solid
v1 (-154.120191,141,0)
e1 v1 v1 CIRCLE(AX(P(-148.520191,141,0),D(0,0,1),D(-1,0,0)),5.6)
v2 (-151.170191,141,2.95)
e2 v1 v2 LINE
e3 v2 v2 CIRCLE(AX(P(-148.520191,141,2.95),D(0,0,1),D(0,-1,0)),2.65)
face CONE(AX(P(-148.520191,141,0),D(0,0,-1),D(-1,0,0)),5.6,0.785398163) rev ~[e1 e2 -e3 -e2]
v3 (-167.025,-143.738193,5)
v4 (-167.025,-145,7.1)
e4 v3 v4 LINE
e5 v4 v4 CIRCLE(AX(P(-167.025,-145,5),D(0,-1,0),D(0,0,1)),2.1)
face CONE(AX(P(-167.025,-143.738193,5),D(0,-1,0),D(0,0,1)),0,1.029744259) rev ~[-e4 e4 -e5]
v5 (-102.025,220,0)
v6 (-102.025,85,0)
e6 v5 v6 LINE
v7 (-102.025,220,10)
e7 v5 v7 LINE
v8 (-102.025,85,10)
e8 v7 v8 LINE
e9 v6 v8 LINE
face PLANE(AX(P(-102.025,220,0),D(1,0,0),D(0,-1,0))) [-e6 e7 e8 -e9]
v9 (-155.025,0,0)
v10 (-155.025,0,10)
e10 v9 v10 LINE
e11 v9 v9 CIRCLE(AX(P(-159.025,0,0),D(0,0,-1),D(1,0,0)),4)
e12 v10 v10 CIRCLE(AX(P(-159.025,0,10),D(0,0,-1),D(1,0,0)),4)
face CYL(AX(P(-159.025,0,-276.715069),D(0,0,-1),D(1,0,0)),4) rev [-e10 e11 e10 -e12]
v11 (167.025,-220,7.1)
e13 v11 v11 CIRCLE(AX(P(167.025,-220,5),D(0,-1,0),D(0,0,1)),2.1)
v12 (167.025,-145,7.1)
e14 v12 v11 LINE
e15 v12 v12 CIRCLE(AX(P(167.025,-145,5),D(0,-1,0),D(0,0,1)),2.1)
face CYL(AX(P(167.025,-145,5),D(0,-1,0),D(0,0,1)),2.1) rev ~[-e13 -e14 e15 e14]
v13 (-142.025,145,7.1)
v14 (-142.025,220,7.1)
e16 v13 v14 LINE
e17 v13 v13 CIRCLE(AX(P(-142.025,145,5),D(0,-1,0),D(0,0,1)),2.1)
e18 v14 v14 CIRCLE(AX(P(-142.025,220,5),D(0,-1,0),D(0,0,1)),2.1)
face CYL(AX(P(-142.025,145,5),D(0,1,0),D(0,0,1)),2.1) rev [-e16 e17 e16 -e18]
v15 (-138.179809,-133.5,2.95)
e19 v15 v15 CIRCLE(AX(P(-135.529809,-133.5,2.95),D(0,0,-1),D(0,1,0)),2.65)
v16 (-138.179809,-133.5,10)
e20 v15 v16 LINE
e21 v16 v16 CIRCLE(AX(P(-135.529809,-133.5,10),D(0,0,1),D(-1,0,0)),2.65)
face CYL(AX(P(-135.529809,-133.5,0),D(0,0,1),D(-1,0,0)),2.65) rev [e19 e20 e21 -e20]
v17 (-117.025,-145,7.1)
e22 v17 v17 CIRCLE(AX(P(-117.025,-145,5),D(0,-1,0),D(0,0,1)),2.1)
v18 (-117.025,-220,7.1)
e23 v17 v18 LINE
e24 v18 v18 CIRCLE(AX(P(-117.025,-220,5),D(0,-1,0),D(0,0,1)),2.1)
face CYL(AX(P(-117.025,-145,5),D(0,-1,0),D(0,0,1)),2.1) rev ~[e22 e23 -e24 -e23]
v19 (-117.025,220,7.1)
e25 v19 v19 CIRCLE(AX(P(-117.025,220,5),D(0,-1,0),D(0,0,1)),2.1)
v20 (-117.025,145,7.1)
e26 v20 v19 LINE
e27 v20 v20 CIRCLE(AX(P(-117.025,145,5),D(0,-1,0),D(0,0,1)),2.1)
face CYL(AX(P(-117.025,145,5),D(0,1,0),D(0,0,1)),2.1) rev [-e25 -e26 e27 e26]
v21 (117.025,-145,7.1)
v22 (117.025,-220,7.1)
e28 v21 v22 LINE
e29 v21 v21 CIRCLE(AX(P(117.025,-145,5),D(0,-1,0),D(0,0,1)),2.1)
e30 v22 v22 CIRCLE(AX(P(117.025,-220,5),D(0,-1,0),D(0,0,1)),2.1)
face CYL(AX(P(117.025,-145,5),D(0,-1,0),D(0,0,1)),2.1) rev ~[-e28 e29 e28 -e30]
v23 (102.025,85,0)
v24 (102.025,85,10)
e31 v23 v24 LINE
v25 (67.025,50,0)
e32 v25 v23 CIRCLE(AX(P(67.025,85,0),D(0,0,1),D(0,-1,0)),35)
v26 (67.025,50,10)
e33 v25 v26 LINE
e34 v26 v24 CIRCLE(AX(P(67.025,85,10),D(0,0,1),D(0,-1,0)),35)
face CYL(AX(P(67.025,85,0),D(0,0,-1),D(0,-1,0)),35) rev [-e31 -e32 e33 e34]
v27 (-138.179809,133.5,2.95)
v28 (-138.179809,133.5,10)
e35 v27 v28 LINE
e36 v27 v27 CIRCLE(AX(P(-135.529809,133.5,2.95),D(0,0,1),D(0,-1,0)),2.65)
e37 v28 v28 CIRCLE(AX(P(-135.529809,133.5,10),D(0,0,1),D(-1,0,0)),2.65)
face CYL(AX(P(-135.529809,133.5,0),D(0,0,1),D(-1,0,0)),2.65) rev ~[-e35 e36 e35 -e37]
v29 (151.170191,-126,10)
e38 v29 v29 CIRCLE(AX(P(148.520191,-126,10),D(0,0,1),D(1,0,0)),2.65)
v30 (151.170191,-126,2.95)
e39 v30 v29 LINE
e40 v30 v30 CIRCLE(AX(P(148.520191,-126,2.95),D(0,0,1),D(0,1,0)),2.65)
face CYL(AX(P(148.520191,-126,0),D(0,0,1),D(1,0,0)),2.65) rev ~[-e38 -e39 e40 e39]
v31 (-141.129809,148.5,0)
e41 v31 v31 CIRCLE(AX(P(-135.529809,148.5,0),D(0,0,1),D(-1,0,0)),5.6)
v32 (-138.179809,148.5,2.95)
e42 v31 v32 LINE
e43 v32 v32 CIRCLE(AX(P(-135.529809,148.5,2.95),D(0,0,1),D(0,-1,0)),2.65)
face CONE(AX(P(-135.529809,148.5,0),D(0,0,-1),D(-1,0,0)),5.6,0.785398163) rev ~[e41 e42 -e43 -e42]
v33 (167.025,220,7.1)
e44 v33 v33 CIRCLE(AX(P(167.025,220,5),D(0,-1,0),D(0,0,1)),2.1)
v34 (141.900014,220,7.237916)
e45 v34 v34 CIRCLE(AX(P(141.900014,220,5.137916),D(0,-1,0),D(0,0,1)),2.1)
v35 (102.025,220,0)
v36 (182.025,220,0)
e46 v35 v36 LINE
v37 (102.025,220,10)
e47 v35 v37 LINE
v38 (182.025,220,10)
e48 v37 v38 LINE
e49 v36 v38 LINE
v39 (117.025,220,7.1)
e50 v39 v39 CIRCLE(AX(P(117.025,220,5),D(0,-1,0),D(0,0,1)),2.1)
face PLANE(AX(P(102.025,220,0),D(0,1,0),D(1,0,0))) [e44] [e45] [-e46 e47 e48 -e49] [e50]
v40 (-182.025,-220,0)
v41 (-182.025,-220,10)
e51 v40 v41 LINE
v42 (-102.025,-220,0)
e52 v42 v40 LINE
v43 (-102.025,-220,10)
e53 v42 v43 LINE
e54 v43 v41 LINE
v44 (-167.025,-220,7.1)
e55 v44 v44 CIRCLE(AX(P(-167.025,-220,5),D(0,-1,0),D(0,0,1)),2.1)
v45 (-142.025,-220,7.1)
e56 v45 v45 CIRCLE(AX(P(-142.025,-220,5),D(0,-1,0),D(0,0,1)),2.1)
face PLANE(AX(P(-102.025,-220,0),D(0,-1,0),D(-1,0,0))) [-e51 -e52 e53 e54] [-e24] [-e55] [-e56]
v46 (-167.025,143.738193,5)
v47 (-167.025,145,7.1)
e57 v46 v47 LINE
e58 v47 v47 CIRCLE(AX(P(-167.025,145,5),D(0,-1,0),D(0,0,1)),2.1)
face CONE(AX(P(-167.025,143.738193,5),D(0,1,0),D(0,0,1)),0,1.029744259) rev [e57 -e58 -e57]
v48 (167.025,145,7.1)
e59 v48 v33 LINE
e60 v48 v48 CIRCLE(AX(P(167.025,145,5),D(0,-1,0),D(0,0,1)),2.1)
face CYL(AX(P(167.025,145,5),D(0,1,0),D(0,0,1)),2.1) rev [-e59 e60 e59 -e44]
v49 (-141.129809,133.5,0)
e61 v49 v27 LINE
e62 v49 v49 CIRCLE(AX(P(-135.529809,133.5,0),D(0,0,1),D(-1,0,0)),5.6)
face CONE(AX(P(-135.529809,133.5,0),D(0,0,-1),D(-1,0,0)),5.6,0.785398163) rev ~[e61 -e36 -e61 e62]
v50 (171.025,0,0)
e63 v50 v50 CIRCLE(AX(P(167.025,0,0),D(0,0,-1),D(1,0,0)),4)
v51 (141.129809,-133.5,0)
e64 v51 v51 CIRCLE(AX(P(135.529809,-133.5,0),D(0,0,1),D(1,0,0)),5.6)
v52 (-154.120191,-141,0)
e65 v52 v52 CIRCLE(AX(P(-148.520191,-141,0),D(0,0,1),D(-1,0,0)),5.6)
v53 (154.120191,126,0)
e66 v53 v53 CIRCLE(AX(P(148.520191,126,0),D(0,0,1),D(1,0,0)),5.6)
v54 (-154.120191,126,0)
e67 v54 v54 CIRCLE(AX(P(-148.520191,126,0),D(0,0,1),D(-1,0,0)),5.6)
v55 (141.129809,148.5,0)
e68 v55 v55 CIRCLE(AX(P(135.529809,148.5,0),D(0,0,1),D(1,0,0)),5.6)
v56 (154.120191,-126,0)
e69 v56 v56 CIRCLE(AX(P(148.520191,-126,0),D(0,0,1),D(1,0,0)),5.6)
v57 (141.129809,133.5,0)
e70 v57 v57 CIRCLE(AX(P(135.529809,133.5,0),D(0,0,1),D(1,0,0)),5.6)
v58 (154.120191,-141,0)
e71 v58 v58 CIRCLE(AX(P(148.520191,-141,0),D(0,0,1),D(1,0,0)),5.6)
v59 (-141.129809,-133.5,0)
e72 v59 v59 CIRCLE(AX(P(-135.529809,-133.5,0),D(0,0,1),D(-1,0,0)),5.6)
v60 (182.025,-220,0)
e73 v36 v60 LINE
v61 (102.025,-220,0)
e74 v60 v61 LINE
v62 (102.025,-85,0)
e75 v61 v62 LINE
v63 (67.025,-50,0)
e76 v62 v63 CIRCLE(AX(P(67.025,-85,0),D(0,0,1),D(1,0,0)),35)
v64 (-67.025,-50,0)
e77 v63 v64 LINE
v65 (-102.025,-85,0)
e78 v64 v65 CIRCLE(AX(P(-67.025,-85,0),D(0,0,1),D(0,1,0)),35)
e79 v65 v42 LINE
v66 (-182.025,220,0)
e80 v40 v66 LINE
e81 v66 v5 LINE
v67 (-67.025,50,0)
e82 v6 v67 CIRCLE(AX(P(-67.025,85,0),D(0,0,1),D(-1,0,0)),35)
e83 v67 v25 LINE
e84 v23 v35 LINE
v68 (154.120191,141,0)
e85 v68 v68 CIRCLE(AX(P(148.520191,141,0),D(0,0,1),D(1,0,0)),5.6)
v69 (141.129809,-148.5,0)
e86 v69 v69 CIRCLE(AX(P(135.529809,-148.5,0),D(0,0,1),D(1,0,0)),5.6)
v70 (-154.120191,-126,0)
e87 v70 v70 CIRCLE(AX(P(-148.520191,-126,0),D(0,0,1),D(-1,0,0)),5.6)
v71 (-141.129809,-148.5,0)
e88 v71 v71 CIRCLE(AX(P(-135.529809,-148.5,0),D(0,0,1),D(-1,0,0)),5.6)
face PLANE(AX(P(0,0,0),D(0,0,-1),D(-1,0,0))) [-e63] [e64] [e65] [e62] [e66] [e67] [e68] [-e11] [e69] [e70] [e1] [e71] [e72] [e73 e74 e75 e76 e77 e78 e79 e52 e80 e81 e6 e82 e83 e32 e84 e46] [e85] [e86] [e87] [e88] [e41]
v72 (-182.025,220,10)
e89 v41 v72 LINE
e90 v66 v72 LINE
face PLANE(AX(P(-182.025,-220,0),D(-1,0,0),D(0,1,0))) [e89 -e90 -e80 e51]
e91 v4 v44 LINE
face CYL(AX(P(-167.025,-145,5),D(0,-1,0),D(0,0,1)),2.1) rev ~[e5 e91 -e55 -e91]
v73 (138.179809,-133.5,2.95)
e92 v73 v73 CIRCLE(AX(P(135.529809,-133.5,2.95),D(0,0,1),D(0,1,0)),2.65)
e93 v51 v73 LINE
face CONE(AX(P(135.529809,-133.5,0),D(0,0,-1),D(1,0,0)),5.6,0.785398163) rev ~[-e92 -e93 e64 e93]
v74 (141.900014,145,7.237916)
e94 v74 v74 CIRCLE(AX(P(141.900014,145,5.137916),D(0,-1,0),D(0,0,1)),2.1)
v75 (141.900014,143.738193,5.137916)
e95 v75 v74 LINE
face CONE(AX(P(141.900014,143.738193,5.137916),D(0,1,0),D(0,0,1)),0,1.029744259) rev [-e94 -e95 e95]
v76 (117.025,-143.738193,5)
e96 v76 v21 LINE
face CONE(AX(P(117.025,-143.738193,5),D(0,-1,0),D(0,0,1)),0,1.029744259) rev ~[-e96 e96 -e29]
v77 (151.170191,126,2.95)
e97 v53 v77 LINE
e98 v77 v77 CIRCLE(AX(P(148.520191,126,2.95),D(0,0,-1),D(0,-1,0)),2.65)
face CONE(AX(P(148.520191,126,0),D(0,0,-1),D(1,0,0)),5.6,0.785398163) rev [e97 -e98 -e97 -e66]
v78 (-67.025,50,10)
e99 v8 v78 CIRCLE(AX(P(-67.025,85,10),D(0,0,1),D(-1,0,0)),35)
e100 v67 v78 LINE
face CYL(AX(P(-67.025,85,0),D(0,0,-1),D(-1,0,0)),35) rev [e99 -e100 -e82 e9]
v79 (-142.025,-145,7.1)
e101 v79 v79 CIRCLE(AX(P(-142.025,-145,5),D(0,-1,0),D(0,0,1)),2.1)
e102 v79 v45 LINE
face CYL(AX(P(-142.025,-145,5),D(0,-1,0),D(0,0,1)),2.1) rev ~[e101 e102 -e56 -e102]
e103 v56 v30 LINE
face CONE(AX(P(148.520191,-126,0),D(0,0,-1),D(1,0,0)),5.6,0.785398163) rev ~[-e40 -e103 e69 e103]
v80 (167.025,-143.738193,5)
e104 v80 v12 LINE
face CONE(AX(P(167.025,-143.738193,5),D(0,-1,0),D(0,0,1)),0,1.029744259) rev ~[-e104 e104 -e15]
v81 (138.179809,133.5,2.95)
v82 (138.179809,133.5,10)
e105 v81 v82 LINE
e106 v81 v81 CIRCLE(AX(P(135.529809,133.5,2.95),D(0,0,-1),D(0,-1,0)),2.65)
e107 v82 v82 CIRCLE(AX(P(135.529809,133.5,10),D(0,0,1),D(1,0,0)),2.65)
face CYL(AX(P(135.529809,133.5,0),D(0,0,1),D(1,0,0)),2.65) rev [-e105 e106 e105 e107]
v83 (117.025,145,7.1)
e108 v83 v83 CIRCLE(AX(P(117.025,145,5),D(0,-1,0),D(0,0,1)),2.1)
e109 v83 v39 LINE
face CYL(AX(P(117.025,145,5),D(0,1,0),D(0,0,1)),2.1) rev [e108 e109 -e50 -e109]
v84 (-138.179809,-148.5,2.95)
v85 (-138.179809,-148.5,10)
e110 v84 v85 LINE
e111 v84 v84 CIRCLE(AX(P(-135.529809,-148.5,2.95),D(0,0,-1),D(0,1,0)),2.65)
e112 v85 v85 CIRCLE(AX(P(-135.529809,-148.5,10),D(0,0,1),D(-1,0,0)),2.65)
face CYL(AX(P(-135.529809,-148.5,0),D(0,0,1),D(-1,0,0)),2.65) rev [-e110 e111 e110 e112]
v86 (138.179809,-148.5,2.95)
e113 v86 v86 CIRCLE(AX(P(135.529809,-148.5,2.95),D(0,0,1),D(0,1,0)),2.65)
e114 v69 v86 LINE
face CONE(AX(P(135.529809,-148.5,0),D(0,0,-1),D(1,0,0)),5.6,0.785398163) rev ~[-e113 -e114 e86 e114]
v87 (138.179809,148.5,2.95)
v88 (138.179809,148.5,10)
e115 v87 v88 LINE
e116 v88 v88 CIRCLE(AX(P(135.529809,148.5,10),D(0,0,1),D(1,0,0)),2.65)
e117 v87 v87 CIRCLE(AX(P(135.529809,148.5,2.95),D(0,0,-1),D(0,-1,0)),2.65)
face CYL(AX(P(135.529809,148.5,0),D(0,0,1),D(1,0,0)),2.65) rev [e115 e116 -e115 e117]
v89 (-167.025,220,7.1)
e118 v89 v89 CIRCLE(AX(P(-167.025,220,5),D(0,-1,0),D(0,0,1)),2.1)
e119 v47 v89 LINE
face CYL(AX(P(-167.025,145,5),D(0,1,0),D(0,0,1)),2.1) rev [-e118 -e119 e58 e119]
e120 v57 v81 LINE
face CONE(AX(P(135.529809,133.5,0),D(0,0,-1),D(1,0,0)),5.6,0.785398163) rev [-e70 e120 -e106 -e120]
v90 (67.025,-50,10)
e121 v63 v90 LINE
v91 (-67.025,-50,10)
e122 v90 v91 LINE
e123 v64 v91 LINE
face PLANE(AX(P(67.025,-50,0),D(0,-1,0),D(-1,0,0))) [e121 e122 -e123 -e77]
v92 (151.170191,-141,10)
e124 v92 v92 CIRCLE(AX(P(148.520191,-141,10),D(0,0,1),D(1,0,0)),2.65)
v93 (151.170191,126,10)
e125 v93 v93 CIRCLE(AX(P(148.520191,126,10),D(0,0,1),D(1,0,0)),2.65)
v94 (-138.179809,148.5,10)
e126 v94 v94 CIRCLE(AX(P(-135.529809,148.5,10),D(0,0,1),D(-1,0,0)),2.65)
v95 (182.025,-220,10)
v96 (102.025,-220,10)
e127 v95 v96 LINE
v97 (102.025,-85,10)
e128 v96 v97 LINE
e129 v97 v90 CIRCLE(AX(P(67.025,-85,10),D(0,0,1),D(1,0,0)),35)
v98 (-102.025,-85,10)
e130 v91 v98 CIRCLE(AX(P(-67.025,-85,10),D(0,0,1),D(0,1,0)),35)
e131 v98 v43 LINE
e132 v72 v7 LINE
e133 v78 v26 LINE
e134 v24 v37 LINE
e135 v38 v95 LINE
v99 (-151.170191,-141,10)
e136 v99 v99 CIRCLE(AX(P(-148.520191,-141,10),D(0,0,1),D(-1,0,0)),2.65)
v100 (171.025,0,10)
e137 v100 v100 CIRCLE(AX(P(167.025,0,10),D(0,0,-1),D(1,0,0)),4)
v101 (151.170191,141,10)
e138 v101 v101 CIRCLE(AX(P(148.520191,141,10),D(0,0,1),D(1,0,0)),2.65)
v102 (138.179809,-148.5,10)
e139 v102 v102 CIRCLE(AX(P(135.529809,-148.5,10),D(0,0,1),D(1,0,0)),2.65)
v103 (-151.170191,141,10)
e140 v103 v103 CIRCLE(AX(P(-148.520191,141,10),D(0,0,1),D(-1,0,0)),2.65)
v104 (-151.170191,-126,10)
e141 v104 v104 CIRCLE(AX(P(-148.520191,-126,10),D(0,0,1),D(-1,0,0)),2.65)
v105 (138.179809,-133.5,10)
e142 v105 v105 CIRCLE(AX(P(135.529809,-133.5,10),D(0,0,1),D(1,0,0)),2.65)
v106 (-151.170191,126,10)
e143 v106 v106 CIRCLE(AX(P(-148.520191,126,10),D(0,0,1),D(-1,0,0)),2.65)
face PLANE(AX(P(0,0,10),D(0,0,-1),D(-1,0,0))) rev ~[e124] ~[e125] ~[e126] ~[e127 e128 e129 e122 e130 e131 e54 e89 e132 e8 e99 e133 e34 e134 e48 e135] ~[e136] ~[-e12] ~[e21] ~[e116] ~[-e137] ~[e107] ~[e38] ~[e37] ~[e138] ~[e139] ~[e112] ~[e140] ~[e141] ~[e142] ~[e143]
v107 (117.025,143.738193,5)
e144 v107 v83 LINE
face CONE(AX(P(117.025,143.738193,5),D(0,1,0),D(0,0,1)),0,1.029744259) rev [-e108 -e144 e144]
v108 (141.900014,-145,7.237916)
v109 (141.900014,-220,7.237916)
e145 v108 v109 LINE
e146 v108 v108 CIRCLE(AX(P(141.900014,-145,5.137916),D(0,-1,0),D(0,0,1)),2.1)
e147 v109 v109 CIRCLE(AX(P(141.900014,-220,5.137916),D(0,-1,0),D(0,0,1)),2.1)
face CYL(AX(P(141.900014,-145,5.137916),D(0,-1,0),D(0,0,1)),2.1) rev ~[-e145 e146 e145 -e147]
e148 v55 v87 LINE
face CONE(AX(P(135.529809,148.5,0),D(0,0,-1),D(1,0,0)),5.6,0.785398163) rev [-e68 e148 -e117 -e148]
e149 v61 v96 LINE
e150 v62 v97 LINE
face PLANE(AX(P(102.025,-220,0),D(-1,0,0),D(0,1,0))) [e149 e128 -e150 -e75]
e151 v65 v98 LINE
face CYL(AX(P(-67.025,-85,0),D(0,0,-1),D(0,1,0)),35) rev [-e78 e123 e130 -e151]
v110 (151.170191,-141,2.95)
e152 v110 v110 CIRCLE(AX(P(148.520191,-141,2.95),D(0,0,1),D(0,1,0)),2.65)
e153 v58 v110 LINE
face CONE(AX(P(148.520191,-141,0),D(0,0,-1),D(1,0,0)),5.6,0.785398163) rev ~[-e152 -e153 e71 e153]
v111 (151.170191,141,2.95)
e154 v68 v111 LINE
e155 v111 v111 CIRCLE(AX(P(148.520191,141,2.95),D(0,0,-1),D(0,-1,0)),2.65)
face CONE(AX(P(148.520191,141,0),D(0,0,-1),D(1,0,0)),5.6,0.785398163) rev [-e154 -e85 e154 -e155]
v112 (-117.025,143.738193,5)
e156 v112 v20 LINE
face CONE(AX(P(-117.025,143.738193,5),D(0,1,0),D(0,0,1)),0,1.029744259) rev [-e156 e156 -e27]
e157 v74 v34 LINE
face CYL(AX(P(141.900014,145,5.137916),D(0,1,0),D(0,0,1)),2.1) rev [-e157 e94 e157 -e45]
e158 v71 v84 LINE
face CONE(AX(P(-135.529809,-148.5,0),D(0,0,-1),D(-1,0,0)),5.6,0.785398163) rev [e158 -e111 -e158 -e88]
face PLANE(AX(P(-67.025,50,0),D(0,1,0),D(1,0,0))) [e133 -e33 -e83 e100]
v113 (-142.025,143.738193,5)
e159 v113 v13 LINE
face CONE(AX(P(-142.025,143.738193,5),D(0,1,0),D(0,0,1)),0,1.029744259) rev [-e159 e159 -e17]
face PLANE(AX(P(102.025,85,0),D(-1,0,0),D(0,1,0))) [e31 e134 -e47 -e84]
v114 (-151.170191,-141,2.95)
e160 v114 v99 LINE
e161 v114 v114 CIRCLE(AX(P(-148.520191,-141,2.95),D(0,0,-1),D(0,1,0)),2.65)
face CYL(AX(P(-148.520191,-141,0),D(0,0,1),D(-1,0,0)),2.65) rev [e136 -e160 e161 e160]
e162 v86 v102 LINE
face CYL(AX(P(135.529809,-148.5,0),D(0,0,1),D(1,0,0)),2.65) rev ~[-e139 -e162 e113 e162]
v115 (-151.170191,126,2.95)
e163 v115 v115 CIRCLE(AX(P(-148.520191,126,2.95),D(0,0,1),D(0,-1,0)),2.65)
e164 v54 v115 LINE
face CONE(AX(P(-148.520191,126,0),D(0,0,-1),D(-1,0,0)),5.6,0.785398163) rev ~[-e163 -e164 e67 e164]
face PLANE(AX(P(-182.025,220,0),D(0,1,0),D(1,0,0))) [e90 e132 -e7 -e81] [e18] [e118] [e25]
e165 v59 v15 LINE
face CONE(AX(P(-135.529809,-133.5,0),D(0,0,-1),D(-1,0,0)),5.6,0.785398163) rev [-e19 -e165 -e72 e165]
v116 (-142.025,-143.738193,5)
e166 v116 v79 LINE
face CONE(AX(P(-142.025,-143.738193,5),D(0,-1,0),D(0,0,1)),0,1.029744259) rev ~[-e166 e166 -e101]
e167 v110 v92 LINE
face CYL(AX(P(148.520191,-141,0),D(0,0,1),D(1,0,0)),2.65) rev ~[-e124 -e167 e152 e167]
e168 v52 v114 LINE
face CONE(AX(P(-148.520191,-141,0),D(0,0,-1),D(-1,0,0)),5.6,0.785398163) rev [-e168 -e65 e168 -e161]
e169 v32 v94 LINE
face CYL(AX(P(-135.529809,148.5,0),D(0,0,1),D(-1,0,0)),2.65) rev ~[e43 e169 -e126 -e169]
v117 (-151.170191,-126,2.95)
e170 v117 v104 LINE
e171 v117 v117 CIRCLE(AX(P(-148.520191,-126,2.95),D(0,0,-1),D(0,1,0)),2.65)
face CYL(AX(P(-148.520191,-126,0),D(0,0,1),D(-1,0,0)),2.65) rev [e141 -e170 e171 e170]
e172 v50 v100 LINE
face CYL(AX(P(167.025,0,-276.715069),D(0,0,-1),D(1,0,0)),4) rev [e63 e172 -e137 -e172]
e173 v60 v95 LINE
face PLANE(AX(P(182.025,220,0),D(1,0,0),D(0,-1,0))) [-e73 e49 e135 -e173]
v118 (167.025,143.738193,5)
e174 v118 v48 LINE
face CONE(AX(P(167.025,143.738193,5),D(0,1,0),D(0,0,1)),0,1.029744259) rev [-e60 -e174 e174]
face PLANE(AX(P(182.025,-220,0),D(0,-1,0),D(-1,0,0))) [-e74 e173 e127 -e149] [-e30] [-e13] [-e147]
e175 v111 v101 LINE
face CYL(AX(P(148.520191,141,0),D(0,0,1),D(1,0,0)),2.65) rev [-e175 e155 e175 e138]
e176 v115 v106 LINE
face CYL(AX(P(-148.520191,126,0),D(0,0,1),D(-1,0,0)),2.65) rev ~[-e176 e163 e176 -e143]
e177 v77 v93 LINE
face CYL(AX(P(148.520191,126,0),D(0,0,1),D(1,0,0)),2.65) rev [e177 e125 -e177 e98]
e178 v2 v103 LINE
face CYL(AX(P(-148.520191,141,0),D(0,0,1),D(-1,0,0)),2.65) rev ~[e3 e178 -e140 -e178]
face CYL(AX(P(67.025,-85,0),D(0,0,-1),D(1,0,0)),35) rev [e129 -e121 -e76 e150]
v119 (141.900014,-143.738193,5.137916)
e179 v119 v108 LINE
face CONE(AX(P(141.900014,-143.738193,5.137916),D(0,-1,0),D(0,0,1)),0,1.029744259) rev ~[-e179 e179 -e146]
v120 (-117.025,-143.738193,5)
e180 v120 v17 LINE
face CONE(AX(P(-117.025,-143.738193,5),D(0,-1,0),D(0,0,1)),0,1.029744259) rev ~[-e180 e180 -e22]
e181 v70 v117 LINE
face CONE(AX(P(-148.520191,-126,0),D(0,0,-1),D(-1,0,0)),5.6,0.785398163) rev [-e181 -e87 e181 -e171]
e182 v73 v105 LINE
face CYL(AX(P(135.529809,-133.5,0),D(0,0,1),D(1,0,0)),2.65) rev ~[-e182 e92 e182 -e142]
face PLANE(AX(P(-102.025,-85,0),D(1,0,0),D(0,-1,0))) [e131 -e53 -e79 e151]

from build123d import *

# Parameters (mm, degrees)
SALIENTE_EXTRUIR1_DEPTH                              = 10
PERFORADOR_PARA_ROSCAR_PARA_MACHO_DE_2_COUNT         = 2
PERFORADOR_PARA_ROSCAR_PARA_MACHO_DE_2_PITCH         = 50
PERFORADOR_PARA_ROSCAR_PARA_MACHO_DE_3_COUNT         = 2
PERFORADOR_PARA_ROSCAR_PARA_MACHO_DE_3_PITCH         = 114.274917137
PERFORADOR_PARA_ROSCAR_PARA_MACHO_DE_4_COUNT         = 2
PERFORADOR_PARA_ROSCAR_PARA_MACHO_DE_4_PITCH         = 25
PERFORADOR_PARA_ROSCAR_PARA_MACHO_DE_5_A_COUNT       = 2
PERFORADOR_PARA_ROSCAR_PARA_MACHO_DE_5_A_PITCH       = 50
PERFORADOR_PARA_ROSCAR_PARA_MACHO_DE_6_COUNT         = 2
PERFORADOR_PARA_ROSCAR_PARA_MACHO_DE_6_PITCH         = 24.875395913
REFRENTADO_PARA_TORNILLO_TAP_N_CON_CABEZ_D           = 5.3
REFRENTADO_PARA_TORNILLO_TAP_N_CON_CABEZ_CSINK_D     = 11.2
REFRENTADO_PARA_TORNILLO_TAP_N_CON_CABEZ_CSINK_ANGLE = 90
SIMETR_A3_COPY_1_D                                   = 5.3
SIMETR_A3_COPY_1_CSINK_D                             = 11.2
SIMETR_A3_COPY_1_CSINK_ANGLE                         = 90
CORTAR_EXTRUIR1_DEPTH                                = 286.71506895
CORTAR_EXTRUIR1_DEPTH_BACK                           = 286.71506895
CROQUIS8_R                                           = 4


with BuildPart() as part:
    # Croquis1 → Saliente-Extruir1 (new body)
    with BuildSketch(Plane.XY):
        with BuildLine():
            Line((-67.025, 50), (67.025, 50))
            ThreePointArc((67.025, 50), (91.773737342, 60.251262658), (102.025, 85))
            Line((102.025, 85), (102.025, 220))
            Line((102.025, 220), (182.025, 220))
            Line((182.025, 220), (182.025, 60))
            Line((182.025, 60), (182.025, -60))
            Line((182.025, -60), (182.025, -220))
            Line((182.025, -220), (102.025, -220))
            Line((102.025, -220), (102.025, -85))
            ThreePointArc((102.025, -85), (91.773737342, -60.251262658), (67.025, -50))
            Line((67.025, -50), (-67.025, -50))
            ThreePointArc((-67.025, -50), (-91.773737342, -60.251262658), (-102.025, -85))
            Line((-102.025, -85), (-102.025, -220))
            Line((-102.025, -220), (-182.025, -220))
            Line((-182.025, -220), (-182.025, -60))
            Line((-182.025, -60), (-182.025, 60))
            Line((-182.025, 60), (-182.025, 220))
            Line((-182.025, 220), (-102.025, 220))
            Line((-102.025, 220), (-102.025, 85))
            ThreePointArc((-102.025, 85), (-91.773737342, 60.251262658), (-67.025, 50))
        make_face()
    extrude(amount=SALIENTE_EXTRUIR1_DEPTH)

    # Croquis3 → Perforador para roscar para macho de ros (revolve, cut)
    with BuildSketch(Plane(origin=(-167.025, 220, 5), x_dir=(0, 0, 1), z_dir=(1, 0, 0))):
        Polygon((0, 0), (0, 76.2618073), (2.1, 75), (2.1, 0), align=None)
    perforador_para_roscar_para_macho_de_ros = revolve(axis=Axis((-167.025, 226.35, 5), (0, -1, 0)), mode=Mode.SUBTRACT)

    # Perforador para roscar para macho de 2: Perforador para roscar para macho de ros ×2
    with Locations(*[(i * PERFORADOR_PARA_ROSCAR_PARA_MACHO_DE_2_PITCH, 0, 0) for i in range(1, PERFORADOR_PARA_ROSCAR_PARA_MACHO_DE_2_COUNT)]):
        add(perforador_para_roscar_para_macho_de_ros, mode=Mode.SUBTRACT)

    # Perforador para roscar para macho de 3: Perforador para roscar para macho de ros ×2
    with Locations(*[Vector(-0.9105437359751597, 0, -0.4134127536450694) * (i * PERFORADOR_PARA_ROSCAR_PARA_MACHO_DE_3_PITCH) for i in range(1, PERFORADOR_PARA_ROSCAR_PARA_MACHO_DE_3_COUNT)]):
        add(perforador_para_roscar_para_macho_de_ros, mode=Mode.SUBTRACT)

    # Perforador para roscar para macho de 4: Perforador para roscar para macho de ros ×2
    with Locations(*[(i * PERFORADOR_PARA_ROSCAR_PARA_MACHO_DE_4_PITCH, 0, 0) for i in range(1, PERFORADOR_PARA_ROSCAR_PARA_MACHO_DE_4_COUNT)]):
        add(perforador_para_roscar_para_macho_de_ros, mode=Mode.SUBTRACT)

    # Croquis5 → Perforador para roscar para macho de 5 (revolve, cut)
    with BuildSketch(Plane(origin=(117.025, 220, 5), x_dir=(0, 0, 1), z_dir=(1, 0, 0))):
        Polygon((0, 0), (0, 76.2618073), (2.1, 75), (2.1, 0), align=None)
    perforador_para_roscar_para_macho_de_5 = revolve(axis=Axis((117.025, 226.35, 5), (0, -1, 0)), mode=Mode.SUBTRACT)

    # Perforador para roscar para macho de 5 a: Perforador para roscar para macho de 5 ×2
    with Locations(*[(i * PERFORADOR_PARA_ROSCAR_PARA_MACHO_DE_5_A_PITCH, 0, 0) for i in range(1, PERFORADOR_PARA_ROSCAR_PARA_MACHO_DE_5_A_COUNT)]):
        add(perforador_para_roscar_para_macho_de_5, mode=Mode.SUBTRACT)

    # Perforador para roscar para macho de 6: Perforador para roscar para macho de 5 ×2
    with Locations(*[Vector(0.9999846303252095, 0, 0.005544286550521713) * (i * PERFORADOR_PARA_ROSCAR_PARA_MACHO_DE_6_PITCH) for i in range(1, PERFORADOR_PARA_ROSCAR_PARA_MACHO_DE_6_COUNT)]):
        add(perforador_para_roscar_para_macho_de_5, mode=Mode.SUBTRACT)

    # Simetría1: Perforador para roscar para macho de ros, Perforador para roscar para macho de 5 across plane
    add(perforador_para_roscar_para_macho_de_ros.mirror(Plane.ZX), mode=Mode.SUBTRACT)
    add(perforador_para_roscar_para_macho_de_5.mirror(Plane.ZX), mode=Mode.SUBTRACT)

    # Simetría1 copy 1 sketch → Simetría1 copy 1 (revolve, cut)
    with BuildSketch(Plane(origin=(-117.025, -220, 5), x_dir=(0, 0, 1), z_dir=(1, 0, 0))):
        Polygon((0, 0), (0, -76.2618073), (2.1, -75), (2.1, 0), align=None)
    revolve(axis=Axis((-117.025, -226.35, 5), (0, -1, 0)), mode=Mode.SUBTRACT)

    # Simetría1 copy 2 sketch → Simetría1 copy 2 (revolve, cut)
    with BuildSketch(Plane(origin=(-271.077309978, -220, -42.242708166), x_dir=(0, 0, 1), z_dir=(1, 0, 0))):
        Polygon((0, 0), (0, -76.2618073), (2.1, -75), (2.1, 0), align=None)
    revolve(axis=Axis((-271.077309978, -226.35, -42.242708166), (0, -1, 0)), mode=Mode.SUBTRACT)

    # Simetría1 copy 3 sketch → Simetría1 copy 3 (revolve, cut)
    with BuildSketch(Plane(origin=(-142.025, -220, 5), x_dir=(0, 0, 1), z_dir=(1, 0, 0))):
        Polygon((0, 0), (0, -76.2618073), (2.1, -75), (2.1, 0), align=None)
    revolve(axis=Axis((-142.025, -226.35, 5), (0, -1, 0)), mode=Mode.SUBTRACT)

    # Simetría1 copy 4 sketch → Simetría1 copy 4 (revolve, cut)
    with BuildSketch(Plane(origin=(167.025, -220, 5), x_dir=(0, 0, 1), z_dir=(1, 0, 0))):
        Polygon((0, 0), (0, -76.2618073), (2.1, -75), (2.1, 0), align=None)
    revolve(axis=Axis((167.025, -226.35, 5), (0, -1, 0)), mode=Mode.SUBTRACT)

    # Simetría1 copy 5 sketch → Simetría1 copy 5 (revolve, cut)
    with BuildSketch(Plane(origin=(141.900013587, -220, 5.137916323), x_dir=(0, 0, 1), z_dir=(1, 0, 0))):
        Polygon((0, 0), (0, -76.2618073), (2.1, -75), (2.1, 0), align=None)
    revolve(axis=Axis((141.900013587, -226.35, 5.137916323), (0, -1, 0)), mode=Mode.SUBTRACT)

    # Refrentado para tornillo tapón con cabeza plana de clavija de M51 (through all)
    with Locations(Plane(origin=(148.520190528, -141, 0), x_dir=(-1, 0, 0), z_dir=(0, 0, -1))):
        with Locations((0, 0), (12.990381056, 7.5), (12.990381056, -7.5), (0, 15)):
            refrentado_para_tornillo_tap_n_con_cabez = CounterSinkHole(REFRENTADO_PARA_TORNILLO_TAP_N_CON_CABEZ_D / 2, REFRENTADO_PARA_TORNILLO_TAP_N_CON_CABEZ_CSINK_D / 2, counter_sink_angle=REFRENTADO_PARA_TORNILLO_TAP_N_CON_CABEZ_CSINK_ANGLE)

    # Simetría2: Refrentado para tornillo tapón con cabeza plana de clavija de M51 across plane
    add(refrentado_para_tornillo_tap_n_con_cabez.mirror(Plane.ZX), mode=Mode.SUBTRACT)

    # Simetría3: Refrentado para tornillo tapón con cabeza plana de clavija de M51 across plane
    add(refrentado_para_tornillo_tap_n_con_cabez.mirror(Plane(origin=(0, 0, 0), x_dir=(0, 0, 1), z_dir=(1, 0, 0))), mode=Mode.SUBTRACT)

    # Simetría3 copy 1 (through all)
    with Locations(Plane(origin=(-148.520190528, 141, 0), x_dir=(1, 0, 0), z_dir=(0, 0, -1))):
        with Locations((0, 0), (12.990381056, 7.5), (12.990381056, -7.5), (0, 15)):
            CounterSinkHole(SIMETR_A3_COPY_1_D / 2, SIMETR_A3_COPY_1_CSINK_D / 2, counter_sink_angle=SIMETR_A3_COPY_1_CSINK_ANGLE)

    # Croquis8 → Cortar-Extruir1 (cut, two sides: drawn at the far end of the back side and taken through both)
    with BuildSketch(Plane.XY.offset(10).offset(-CORTAR_EXTRUIR1_DEPTH_BACK)):
        with Locations((167.025, 0)):
            Circle(CROQUIS8_R)
        with Locations((-159.025, 0)):
            Circle(CROQUIS8_R)
    extrude(amount=CORTAR_EXTRUIR1_DEPTH + CORTAR_EXTRUIR1_DEPTH_BACK, mode=Mode.SUBTRACT)


solid = part.part
